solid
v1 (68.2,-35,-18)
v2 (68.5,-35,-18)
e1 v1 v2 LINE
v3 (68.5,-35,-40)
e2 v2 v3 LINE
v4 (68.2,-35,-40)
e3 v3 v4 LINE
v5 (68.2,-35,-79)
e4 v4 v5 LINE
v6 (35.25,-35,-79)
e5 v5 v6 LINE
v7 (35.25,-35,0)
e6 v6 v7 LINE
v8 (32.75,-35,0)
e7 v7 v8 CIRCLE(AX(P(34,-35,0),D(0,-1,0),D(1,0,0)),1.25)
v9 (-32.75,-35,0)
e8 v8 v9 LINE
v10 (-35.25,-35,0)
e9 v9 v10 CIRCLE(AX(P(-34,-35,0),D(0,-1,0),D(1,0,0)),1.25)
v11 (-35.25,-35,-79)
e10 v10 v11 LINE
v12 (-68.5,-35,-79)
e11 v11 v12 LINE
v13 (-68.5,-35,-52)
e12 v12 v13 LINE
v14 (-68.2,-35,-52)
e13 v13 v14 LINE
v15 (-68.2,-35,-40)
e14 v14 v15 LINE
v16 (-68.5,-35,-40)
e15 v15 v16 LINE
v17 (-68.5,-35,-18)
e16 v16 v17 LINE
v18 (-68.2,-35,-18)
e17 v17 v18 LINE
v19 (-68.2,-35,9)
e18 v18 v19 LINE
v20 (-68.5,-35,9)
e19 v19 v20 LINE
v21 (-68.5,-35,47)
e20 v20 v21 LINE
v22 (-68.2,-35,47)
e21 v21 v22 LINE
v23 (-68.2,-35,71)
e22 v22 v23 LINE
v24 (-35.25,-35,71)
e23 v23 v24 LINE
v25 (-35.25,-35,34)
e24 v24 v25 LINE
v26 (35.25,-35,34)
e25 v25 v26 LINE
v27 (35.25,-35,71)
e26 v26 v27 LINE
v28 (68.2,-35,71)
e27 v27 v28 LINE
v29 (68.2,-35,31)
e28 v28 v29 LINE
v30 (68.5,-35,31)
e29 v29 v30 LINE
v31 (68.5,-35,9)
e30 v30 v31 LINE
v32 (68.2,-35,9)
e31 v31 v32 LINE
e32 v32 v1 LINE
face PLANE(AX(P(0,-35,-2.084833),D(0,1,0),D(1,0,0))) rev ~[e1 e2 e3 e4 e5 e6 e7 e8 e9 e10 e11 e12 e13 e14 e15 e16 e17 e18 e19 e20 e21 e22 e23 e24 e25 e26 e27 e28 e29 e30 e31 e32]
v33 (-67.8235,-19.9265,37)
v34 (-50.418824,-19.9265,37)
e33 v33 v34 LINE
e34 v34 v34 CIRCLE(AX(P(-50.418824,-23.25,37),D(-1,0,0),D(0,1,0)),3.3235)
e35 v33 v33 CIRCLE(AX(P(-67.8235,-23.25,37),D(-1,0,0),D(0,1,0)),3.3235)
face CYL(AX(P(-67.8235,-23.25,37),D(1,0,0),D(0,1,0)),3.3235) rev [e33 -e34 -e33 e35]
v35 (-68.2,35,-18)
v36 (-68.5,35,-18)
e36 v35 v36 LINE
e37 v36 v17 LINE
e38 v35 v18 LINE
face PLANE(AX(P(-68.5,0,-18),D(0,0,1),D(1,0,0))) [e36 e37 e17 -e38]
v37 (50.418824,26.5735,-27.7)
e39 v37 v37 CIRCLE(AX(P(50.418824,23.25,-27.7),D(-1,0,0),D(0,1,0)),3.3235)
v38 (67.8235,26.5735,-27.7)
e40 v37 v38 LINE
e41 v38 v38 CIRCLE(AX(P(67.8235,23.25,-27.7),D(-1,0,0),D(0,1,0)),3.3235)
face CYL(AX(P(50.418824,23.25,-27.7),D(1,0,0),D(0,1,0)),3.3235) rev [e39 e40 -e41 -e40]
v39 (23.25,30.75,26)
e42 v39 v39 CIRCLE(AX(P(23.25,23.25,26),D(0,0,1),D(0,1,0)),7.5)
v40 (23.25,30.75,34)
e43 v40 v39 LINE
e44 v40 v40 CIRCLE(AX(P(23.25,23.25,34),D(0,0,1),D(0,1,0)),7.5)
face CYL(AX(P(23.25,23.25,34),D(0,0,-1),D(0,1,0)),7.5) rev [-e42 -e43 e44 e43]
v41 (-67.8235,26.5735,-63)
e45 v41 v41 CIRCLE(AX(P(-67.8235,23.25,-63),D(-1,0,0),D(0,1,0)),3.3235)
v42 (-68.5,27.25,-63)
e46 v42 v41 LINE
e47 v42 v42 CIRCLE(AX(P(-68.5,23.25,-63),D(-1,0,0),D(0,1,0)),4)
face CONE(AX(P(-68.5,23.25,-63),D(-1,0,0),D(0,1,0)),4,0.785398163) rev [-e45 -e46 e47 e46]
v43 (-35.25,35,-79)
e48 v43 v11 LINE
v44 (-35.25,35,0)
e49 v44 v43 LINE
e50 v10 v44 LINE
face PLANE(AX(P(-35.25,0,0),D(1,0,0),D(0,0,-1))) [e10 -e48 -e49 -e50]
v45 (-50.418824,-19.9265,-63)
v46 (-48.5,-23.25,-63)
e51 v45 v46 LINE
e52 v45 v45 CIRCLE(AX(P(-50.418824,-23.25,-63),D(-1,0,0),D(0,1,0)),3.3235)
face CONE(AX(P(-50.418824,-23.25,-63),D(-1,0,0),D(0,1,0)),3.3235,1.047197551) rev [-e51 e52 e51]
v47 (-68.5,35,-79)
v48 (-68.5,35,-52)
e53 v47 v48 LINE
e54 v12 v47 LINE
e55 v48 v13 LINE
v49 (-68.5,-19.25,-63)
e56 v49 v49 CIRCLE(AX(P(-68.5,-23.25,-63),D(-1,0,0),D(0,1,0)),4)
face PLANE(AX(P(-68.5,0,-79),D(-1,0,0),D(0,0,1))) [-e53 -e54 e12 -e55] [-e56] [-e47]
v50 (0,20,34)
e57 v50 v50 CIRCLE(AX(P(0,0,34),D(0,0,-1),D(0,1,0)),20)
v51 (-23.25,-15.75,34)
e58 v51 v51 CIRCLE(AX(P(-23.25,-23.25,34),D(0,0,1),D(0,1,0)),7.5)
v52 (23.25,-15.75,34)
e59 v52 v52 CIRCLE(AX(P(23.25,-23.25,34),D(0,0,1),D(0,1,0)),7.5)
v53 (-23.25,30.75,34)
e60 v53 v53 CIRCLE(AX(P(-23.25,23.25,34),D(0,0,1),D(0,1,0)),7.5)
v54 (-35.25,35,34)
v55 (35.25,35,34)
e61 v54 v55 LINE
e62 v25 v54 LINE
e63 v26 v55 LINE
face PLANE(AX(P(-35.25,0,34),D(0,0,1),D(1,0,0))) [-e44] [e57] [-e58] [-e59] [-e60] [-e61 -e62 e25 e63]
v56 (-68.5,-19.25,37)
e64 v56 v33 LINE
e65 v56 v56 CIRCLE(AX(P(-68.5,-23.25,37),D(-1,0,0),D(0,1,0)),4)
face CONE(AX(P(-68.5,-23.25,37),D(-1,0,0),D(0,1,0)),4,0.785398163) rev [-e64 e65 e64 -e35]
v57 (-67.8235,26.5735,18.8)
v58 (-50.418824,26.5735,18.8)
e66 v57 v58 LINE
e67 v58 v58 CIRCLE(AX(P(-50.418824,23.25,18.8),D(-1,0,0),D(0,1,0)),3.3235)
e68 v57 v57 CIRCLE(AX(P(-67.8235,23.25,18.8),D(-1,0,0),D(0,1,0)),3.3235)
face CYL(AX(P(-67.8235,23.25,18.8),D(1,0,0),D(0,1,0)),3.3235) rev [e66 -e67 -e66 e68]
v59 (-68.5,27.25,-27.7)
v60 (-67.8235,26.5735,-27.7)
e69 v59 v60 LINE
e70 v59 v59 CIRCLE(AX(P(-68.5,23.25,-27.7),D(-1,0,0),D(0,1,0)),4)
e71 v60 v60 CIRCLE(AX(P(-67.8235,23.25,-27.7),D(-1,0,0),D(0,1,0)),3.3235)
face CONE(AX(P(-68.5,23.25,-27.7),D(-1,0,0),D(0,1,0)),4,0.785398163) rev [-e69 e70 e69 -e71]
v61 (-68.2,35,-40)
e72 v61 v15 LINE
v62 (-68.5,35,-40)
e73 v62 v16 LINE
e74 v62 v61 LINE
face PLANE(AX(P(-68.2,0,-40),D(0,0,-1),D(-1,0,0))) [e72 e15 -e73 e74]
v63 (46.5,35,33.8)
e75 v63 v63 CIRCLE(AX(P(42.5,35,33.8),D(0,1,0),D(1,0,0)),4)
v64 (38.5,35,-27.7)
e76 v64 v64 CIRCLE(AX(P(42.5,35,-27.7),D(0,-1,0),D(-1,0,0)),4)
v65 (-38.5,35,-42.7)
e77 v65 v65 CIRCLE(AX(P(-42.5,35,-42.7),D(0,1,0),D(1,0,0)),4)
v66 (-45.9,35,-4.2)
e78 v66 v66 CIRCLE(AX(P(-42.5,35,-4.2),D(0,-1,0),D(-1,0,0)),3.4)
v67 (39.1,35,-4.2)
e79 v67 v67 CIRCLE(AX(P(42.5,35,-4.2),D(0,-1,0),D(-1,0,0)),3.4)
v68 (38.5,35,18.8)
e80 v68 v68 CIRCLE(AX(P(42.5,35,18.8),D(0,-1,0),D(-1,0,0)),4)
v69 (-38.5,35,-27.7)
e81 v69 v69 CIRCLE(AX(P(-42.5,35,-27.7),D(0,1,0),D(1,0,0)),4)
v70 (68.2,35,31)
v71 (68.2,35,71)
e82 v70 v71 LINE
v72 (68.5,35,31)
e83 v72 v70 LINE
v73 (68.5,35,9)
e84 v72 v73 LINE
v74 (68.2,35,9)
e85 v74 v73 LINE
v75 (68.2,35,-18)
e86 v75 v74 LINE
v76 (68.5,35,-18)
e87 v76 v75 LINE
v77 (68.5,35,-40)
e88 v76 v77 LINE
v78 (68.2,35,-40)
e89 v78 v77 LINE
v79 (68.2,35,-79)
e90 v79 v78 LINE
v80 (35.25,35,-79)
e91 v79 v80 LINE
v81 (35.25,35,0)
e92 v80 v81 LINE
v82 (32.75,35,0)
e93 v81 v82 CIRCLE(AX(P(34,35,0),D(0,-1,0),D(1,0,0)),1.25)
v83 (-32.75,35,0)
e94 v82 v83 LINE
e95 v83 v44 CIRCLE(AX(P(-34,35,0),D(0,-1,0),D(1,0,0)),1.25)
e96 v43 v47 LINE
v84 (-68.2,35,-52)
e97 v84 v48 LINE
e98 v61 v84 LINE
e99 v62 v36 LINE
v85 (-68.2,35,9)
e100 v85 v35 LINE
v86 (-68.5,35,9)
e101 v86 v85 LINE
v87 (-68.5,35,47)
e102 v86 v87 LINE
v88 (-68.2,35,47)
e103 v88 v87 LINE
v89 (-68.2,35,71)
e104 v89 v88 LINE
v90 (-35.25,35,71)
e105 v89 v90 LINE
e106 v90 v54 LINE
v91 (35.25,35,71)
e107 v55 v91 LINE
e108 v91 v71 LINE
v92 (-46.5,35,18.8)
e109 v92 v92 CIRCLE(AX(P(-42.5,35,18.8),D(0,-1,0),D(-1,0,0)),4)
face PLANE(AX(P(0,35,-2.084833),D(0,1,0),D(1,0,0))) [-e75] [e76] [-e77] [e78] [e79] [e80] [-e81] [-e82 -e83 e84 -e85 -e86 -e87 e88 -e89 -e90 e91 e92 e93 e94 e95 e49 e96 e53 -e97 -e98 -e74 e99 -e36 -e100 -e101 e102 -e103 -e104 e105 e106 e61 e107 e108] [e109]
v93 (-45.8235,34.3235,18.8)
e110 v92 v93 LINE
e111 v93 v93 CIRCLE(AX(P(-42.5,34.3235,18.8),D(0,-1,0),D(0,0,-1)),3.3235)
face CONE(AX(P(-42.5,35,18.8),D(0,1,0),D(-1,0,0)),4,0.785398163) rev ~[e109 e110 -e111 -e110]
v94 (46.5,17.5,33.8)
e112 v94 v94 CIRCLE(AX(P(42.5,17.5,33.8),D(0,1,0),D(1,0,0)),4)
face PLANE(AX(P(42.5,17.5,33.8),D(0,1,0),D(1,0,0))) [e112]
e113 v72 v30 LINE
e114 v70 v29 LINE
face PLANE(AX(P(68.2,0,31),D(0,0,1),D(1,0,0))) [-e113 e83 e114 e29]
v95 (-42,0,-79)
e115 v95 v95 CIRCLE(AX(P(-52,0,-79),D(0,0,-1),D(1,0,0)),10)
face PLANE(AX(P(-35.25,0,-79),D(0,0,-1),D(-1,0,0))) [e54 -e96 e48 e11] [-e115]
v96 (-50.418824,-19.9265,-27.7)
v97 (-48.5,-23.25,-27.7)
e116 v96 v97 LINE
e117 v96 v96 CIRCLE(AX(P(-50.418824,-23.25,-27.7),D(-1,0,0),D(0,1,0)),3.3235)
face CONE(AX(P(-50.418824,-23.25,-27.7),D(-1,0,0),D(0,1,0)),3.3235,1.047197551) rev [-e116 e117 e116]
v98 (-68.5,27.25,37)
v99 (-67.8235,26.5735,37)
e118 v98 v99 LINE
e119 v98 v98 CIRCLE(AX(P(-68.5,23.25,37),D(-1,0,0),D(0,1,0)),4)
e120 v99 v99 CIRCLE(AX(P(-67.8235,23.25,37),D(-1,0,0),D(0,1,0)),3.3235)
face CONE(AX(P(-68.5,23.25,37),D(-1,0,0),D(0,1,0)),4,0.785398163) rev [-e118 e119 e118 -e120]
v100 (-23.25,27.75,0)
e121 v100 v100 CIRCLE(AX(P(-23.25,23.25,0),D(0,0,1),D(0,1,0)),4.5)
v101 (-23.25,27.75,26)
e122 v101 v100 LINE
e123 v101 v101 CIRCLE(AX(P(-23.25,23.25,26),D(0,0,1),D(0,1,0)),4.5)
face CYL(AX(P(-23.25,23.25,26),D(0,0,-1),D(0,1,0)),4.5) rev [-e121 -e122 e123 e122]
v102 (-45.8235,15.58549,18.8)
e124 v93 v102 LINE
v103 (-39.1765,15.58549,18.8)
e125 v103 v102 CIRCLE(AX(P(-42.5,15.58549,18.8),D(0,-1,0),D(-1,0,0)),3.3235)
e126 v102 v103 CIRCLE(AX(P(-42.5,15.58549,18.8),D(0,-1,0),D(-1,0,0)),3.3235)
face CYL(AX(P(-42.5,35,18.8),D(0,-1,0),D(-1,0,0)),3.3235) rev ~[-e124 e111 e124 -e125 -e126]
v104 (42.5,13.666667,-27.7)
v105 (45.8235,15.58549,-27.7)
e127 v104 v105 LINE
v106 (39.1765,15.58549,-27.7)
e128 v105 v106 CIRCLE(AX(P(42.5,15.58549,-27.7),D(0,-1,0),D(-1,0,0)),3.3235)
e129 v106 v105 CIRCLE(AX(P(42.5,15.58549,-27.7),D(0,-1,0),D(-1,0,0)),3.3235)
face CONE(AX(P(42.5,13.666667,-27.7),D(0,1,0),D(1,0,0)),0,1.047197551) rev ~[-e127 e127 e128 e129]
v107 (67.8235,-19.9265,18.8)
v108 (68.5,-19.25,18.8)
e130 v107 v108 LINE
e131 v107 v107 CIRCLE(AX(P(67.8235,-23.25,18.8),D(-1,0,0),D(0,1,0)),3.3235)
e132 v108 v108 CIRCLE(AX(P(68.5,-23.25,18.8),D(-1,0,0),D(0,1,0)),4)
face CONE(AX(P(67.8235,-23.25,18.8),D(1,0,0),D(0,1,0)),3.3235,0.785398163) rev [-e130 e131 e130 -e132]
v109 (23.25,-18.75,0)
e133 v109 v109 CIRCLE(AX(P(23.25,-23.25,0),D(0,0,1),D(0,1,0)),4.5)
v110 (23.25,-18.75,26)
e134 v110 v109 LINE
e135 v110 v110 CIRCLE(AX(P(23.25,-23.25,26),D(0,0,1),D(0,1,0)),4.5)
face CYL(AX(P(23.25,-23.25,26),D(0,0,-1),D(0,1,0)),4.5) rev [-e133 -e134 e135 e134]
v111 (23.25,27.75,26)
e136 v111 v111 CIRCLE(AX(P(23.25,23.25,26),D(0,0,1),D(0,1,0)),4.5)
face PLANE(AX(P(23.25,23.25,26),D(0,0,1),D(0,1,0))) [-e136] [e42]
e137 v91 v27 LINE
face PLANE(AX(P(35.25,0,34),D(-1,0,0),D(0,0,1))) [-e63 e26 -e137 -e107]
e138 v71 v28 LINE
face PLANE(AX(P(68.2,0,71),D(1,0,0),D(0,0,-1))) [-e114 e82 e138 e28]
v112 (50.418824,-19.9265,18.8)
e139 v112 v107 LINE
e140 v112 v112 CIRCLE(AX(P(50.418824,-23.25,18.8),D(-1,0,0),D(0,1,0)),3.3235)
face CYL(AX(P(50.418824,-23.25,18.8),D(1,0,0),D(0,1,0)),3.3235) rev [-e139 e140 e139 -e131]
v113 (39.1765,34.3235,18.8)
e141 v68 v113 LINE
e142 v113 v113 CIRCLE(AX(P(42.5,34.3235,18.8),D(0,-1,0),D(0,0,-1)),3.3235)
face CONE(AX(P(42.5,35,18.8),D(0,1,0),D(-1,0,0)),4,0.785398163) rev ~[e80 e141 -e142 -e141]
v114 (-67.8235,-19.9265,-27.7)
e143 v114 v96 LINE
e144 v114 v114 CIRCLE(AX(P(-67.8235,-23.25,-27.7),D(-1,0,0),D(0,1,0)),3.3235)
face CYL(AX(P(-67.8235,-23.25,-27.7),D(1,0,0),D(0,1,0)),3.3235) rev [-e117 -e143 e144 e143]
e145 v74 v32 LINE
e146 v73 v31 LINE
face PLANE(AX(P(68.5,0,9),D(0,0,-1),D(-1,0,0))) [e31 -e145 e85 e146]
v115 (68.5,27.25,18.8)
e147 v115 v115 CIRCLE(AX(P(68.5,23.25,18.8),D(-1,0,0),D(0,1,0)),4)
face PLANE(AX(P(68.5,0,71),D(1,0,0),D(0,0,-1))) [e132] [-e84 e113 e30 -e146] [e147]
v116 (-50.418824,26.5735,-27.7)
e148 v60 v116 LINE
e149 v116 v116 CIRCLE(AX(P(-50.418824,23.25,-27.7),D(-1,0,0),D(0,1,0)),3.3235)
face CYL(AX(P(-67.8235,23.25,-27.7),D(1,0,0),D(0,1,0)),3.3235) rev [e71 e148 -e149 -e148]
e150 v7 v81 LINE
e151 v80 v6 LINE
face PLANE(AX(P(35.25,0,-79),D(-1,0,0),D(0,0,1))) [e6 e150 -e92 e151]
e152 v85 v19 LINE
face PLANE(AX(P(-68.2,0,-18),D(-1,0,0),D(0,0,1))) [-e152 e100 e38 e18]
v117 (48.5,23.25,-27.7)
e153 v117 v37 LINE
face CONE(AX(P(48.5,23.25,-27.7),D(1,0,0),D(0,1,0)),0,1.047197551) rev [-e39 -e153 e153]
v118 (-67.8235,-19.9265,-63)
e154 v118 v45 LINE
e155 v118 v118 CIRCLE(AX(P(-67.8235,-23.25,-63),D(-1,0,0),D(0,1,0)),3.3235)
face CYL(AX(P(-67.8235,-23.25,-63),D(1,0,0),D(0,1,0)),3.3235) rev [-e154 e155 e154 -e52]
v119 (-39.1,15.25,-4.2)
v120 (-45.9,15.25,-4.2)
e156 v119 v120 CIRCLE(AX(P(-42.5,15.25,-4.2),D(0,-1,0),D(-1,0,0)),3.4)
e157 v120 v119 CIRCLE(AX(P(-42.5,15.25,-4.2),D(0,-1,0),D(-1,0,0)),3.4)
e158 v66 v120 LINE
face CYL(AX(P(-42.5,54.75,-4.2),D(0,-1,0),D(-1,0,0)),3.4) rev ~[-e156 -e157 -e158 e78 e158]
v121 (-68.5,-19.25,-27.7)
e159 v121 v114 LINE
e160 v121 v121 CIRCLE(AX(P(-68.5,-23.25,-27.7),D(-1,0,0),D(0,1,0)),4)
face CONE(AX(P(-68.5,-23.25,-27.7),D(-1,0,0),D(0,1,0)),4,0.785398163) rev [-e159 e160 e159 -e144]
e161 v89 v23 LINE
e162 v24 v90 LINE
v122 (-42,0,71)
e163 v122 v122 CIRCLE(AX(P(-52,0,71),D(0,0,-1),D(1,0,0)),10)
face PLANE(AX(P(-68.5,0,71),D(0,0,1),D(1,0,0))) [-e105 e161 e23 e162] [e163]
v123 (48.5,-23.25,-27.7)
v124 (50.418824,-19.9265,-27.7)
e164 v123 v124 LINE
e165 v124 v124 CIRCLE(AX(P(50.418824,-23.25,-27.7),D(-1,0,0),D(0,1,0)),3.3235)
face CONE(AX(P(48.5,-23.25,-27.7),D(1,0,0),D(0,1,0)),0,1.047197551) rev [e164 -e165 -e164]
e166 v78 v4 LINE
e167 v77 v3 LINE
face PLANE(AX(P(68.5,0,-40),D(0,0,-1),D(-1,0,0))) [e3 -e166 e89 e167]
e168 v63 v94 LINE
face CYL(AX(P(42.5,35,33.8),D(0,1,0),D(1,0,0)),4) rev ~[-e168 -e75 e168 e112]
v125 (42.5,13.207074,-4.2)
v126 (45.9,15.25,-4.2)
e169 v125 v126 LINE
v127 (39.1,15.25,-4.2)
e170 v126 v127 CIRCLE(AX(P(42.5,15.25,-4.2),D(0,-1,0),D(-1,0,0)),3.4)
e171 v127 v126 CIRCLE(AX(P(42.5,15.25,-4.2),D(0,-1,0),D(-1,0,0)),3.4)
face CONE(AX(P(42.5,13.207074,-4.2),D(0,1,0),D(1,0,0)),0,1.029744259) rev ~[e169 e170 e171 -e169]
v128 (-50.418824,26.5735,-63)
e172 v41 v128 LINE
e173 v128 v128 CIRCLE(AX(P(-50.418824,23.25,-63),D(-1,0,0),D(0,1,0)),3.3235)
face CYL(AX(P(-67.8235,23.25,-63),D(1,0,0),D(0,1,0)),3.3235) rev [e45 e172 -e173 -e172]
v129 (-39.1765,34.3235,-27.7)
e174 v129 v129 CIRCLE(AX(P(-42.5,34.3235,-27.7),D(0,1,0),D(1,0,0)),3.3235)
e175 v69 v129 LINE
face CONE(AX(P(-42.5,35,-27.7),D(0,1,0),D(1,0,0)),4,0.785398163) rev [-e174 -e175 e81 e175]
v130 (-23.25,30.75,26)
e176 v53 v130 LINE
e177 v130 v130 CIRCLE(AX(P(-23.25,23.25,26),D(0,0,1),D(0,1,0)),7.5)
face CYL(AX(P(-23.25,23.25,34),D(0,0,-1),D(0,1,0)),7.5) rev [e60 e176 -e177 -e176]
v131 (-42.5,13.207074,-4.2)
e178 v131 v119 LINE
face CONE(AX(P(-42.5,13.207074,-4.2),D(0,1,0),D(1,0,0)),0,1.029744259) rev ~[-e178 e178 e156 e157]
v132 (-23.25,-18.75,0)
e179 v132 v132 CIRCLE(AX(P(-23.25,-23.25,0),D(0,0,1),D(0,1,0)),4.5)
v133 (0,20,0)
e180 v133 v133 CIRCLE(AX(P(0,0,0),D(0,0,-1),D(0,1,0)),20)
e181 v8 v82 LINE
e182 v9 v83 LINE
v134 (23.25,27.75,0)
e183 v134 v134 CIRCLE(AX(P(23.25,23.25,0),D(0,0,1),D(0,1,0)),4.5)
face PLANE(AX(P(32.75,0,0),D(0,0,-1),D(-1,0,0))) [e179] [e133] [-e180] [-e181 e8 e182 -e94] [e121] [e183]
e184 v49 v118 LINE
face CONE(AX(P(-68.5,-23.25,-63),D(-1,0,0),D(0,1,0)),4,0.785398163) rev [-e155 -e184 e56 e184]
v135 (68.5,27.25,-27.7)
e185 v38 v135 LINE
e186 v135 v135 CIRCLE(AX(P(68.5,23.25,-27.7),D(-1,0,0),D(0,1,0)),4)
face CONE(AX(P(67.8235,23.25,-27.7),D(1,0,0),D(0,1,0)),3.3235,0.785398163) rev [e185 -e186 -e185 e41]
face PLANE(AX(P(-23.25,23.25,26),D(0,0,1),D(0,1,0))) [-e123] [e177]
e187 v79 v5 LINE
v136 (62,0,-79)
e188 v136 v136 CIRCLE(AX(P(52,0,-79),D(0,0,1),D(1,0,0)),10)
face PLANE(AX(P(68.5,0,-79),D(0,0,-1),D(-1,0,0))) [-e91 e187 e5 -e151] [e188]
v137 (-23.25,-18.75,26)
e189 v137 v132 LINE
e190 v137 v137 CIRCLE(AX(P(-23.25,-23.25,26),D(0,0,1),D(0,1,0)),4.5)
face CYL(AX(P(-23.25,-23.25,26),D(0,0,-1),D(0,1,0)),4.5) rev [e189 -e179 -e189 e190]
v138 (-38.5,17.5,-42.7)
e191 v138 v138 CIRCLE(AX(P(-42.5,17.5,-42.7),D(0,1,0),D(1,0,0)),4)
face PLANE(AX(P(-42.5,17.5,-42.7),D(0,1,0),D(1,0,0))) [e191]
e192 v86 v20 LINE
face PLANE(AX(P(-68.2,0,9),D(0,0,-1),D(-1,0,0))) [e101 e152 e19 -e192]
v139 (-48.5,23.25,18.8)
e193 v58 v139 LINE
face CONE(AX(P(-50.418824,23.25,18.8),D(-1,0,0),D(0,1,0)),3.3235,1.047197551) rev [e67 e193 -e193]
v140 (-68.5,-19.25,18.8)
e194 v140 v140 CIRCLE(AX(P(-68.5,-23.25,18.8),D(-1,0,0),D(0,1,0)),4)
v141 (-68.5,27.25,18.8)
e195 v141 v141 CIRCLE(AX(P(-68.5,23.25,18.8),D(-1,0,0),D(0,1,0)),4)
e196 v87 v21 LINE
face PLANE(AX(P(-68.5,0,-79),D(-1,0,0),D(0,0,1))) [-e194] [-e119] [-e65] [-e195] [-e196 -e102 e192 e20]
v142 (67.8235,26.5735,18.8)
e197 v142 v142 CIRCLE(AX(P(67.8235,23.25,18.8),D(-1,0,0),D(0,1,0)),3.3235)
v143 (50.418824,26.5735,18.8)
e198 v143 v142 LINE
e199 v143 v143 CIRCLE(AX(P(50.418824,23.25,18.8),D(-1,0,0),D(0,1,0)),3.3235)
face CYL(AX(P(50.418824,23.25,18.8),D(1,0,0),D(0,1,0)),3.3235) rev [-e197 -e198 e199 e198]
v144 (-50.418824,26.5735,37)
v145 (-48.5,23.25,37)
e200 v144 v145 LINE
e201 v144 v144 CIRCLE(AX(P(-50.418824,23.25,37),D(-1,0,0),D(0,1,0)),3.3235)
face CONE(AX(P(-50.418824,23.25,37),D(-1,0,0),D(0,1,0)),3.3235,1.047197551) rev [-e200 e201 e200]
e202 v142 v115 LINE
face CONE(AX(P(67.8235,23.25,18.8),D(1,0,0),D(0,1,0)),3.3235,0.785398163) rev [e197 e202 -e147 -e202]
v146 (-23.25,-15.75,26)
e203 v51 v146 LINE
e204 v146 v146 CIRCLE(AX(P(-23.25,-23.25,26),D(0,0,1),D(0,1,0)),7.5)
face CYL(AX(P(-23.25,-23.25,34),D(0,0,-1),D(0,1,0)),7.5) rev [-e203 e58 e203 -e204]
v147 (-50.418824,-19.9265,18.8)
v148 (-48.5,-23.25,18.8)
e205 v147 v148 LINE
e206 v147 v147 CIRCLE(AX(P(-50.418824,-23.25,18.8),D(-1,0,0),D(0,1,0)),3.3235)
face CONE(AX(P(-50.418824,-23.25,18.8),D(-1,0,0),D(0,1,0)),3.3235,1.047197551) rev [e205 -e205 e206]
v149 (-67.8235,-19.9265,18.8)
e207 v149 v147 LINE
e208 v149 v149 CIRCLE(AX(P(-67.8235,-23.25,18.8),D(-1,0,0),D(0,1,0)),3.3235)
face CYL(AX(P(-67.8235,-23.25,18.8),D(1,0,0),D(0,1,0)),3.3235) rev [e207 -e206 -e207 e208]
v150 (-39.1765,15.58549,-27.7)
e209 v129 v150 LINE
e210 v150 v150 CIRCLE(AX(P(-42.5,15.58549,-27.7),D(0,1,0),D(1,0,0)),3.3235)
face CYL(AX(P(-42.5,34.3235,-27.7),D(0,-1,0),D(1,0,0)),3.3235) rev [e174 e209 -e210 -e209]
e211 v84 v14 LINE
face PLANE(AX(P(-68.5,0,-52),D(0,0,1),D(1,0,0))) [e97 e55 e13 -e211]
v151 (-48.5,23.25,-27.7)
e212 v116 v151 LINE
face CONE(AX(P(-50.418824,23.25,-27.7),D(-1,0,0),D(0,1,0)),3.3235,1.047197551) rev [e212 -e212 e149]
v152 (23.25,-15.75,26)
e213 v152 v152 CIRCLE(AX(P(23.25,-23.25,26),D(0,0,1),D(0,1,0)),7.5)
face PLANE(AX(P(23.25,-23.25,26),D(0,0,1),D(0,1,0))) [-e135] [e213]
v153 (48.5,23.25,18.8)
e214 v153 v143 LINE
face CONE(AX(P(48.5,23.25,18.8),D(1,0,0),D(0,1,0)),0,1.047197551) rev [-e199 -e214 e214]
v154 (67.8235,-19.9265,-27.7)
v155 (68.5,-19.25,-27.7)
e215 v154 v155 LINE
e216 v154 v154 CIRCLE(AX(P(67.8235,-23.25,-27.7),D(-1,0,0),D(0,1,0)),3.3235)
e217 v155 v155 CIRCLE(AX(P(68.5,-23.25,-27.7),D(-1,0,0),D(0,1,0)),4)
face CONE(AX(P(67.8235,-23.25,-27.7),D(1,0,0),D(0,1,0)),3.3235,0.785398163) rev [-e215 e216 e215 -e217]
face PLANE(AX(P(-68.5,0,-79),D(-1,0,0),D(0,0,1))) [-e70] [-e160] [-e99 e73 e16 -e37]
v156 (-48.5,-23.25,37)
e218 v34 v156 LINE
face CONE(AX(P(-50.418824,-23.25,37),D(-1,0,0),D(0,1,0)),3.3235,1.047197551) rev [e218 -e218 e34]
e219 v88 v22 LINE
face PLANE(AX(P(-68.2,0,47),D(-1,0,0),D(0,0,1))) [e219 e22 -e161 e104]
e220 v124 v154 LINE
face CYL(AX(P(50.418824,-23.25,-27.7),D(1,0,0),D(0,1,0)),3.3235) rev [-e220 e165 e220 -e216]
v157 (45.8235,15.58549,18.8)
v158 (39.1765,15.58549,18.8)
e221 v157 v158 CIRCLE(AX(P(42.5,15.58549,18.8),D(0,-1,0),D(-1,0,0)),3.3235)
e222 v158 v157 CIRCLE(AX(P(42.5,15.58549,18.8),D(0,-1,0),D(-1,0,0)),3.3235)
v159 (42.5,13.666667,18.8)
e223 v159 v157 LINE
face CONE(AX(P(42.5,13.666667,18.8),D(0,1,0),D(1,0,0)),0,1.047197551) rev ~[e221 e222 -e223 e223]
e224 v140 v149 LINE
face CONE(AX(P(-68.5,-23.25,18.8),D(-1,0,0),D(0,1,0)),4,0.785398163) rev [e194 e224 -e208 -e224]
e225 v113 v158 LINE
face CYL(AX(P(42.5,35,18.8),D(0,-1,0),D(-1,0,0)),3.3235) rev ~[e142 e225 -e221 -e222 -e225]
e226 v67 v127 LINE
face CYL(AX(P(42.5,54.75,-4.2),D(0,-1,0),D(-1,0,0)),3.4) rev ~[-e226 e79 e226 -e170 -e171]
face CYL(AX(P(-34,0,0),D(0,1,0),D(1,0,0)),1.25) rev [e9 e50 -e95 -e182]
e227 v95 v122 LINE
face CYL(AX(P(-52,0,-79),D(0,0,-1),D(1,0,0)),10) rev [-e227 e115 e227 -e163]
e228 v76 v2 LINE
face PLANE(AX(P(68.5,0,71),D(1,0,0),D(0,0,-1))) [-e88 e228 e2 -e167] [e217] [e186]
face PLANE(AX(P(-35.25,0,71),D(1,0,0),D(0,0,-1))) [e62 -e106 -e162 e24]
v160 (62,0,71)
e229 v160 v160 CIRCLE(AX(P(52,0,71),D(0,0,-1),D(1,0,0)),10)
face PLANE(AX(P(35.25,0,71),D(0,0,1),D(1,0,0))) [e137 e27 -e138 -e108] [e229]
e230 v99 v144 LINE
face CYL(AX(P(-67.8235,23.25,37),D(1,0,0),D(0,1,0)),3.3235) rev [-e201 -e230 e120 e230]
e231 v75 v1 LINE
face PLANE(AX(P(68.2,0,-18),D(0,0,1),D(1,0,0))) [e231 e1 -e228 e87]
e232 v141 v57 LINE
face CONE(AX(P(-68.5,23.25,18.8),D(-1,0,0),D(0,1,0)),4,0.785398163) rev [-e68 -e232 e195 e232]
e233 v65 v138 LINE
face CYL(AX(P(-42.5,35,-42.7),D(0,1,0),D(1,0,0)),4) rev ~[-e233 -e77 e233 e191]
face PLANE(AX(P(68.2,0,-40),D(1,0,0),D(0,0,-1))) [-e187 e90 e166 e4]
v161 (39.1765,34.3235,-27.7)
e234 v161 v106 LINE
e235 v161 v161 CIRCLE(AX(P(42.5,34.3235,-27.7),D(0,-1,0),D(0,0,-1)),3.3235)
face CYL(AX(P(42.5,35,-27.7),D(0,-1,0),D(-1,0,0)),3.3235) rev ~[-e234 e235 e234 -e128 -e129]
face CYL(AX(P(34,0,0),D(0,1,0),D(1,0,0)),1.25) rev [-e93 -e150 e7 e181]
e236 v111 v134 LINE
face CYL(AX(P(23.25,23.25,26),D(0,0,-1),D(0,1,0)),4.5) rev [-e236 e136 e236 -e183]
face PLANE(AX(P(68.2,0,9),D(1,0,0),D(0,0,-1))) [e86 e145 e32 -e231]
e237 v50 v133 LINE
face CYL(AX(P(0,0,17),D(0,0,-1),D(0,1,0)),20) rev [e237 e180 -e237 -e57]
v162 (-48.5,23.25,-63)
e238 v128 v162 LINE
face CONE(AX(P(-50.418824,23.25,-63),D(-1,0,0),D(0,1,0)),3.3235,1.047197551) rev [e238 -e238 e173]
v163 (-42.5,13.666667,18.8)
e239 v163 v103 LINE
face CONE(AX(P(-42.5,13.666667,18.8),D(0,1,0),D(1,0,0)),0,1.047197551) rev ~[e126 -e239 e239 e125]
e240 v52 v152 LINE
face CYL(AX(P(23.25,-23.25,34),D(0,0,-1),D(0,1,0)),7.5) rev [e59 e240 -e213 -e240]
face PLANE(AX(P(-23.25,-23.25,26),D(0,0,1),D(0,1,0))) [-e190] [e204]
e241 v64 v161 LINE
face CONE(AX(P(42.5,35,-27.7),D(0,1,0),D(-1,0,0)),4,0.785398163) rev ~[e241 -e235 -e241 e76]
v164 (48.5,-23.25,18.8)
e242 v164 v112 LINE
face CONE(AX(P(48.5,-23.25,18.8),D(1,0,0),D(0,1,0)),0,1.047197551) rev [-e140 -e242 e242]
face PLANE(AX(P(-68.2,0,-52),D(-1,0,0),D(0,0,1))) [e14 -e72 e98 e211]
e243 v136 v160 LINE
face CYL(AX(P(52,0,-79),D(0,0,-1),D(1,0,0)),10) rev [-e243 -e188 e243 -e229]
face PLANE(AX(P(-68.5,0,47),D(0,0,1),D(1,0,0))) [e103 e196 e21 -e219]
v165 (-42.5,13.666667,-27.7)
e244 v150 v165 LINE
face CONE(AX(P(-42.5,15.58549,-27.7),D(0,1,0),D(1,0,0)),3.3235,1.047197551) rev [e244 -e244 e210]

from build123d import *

# Parameters (mm, degrees)
BOSS_EXTRUDE1_DEPTH      = 35
BOSS_EXTRUDE1_DEPTH_BACK = 35
SKETCH2_W                = 36
SKETCH2_H                = 20
HOLE1_D                  = 6.647
HOLE1_DEPTH              = 19.414509714
HOLE1_CSINK_D            = 8
HOLE1_CSINK_ANGLE        = 90
HOLE1_TIP                = 1.91882362
HOLE2_D                  = 6.647
HOLE2_DEPTH              = 19.414509714
HOLE2_CSINK_D            = 8
HOLE2_CSINK_ANGLE        = 90
HOLE2_TIP                = 1.91882362
HOLE3_D                  = 6.647
HOLE3_DEPTH              = 19.414509714
HOLE3_CSINK_D            = 8
HOLE3_CSINK_ANGLE        = 90
HOLE3_TIP                = 1.91882362
SKETCH26_R               = 10
CUT_EXTRUDE1_DEPTH       = 150
SKETCH27_R               = 10
CUT_EXTRUDE2_DEPTH       = 150
CUT_EXTRUDE3_DEPTH       = 70
CUT_EXTRUDE3_DEPTH_BACK  = 70
SKETCH28_W               = 177
SKETCH28_H               = 190
SKETCH29_R               = 4
CUT_EXTRUDE4_DEPTH       = 17.5
M8_TAPPED_HOLE1_D        = 6.8
M8_TAPPED_HOLE1_DEPTH    = 19.75
M8_TAPPED_HOLE1_TIP      = 2.042926105


with BuildPart() as part:
    # Sketch1 → Boss-Extrude1 (new, two sides: drawn at the far end of the back side and taken through both)
    with BuildSketch(Plane(origin=(0, 0, 0), x_dir=(1, 0, 0), z_dir=(0, 1, 0)).offset(-BOSS_EXTRUDE1_DEPTH_BACK)):
        with BuildLine():
            Line((-68.5, -71), (-35.25, -71))
            Line((-35.25, -71), (-35.25, -34))
            Line((-35.25, -34), (35.25, -34))
            Line((35.25, -34), (35.25, -71))
            Line((35.25, -71), (68.5, -71))
            Line((68.5, -71), (68.5, 79))
            Line((68.5, 79), (35.25, 79))
            Line((35.25, 79), (35.25, 0))
            ThreePointArc((35.25, 0), (34, -1.25), (32.75, 0))
            Line((32.75, 0), (-32.75, 0))
            ThreePointArc((-32.75, 0), (-34, -1.25), (-35.25, 0))
            Line((-35.25, 0), (-35.25, 79))
            Line((-35.25, 79), (-68.5, 79))
            Line((-68.5, 79), (-68.5, -71))
        make_face()
    extrude(amount=BOSS_EXTRUDE1_DEPTH + BOSS_EXTRUDE1_DEPTH_BACK)

    # Sketch2 → Cut-Revolve1 (revolve, cut)
    with BuildSketch(Plane(origin=(0, 0, 0), x_dir=(0, 0, -1), z_dir=(1, 0, 0))):
        with Locations((-17, 10)):
            Rectangle(SKETCH2_W, SKETCH2_H)
    revolve(axis=Axis((0, 0, -1), (0, 0, 1)), mode=Mode.SUBTRACT)

    # Sketch3 → Cut-Revolve2 (revolve, cut)
    with BuildSketch(Plane(origin=(-23.25, 0, 0), x_dir=(0, 0, -1), z_dir=(1, 0, 0))):
        Polygon((-34, 23.25), (-34, 30.75), (-26, 30.75), (-26, 27.75), (0, 27.75), (0, 23.25), align=None)
    revolve(axis=Axis((-23.25, 23.25, 0), (0, 0, 1)), mode=Mode.SUBTRACT)

    # Sketch4 → Cut-Revolve3 (revolve, cut)
    with BuildSketch(Plane(origin=(-23.25, 0, 0), x_dir=(0, 0, -1), z_dir=(1, 0, 0))):
        Polygon((-34, -23.25), (-34, -15.75), (-26, -15.75), (-26, -18.75), (0, -18.75), (0, -23.25), align=None)
    revolve(axis=Axis((-23.25, -23.25, 0), (0, 0, 1)), mode=Mode.SUBTRACT)

    # Sketch5 → Cut-Revolve4 (revolve, cut)
    with BuildSketch(Plane(origin=(23.25, 0, 0), x_dir=(0, 0, -1), z_dir=(1, 0, 0))):
        Polygon((-34, 23.25), (-34, 30.75), (-26, 30.75), (-26, 27.75), (0, 27.75), (0, 23.25), align=None)
    revolve(axis=Axis((23.25, 23.25, 0), (0, 0, 1)), mode=Mode.SUBTRACT)

    # Sketch6 → Cut-Revolve5 (revolve, cut)
    with BuildSketch(Plane(origin=(23.25, 0, 0), x_dir=(0, 0, -1), z_dir=(1, 0, 0))):
        Polygon((-34, -23.25), (-34, -15.75), (-26, -15.75), (-26, -18.75), (0, -18.75), (0, -23.25), align=None)
    revolve(axis=Axis((23.25, -23.25, 0), (0, 0, 1)), mode=Mode.SUBTRACT)

    # Hole1
    with Locations(Plane(origin=(0, 35, 0), x_dir=(1, 0, 0), z_dir=(0, 1, 0))):
        with Locations((42.5, -18.8)):
            CounterSinkHole(HOLE1_D / 2, HOLE1_CSINK_D / 2, depth=HOLE1_DEPTH, counter_sink_angle=HOLE1_CSINK_ANGLE)
            with Locations((0, 0, -(HOLE1_DEPTH + HOLE1_TIP / 2))):  # 120° drill point
                Cone(0, HOLE1_D / 2, HOLE1_TIP, mode=Mode.SUBTRACT)

    # Hole2
    with Locations(Plane(origin=(0, 35, 0), x_dir=(1, 0, 0), z_dir=(0, 1, 0))):
        with Locations((-42.5, -18.8)):
            CounterSinkHole(HOLE2_D / 2, HOLE2_CSINK_D / 2, depth=HOLE2_DEPTH, counter_sink_angle=HOLE2_CSINK_ANGLE)
            with Locations((0, 0, -(HOLE2_DEPTH + HOLE2_TIP / 2))):  # 120° drill point
                Cone(0, HOLE2_D / 2, HOLE2_TIP, mode=Mode.SUBTRACT)

    # Sketch11 → Cut-Revolve6 (revolve, cut)
    with BuildSketch(Plane.XY.offset(18.8)):
        Polygon((48.5, 23.25), (50.41882362, 26.5735), (67.8235, 26.5735), (68.5, 27.25), (68.5, 23.25), align=None)
    revolve(axis=Axis((68.5, 23.25, 18.8), (-1, 0, 0)), mode=Mode.SUBTRACT)

    # Sketch12 → Cut-Revolve7 (revolve, cut)
    with BuildSketch(Plane.XY.offset(18.8)):
        Polygon((48.5, -23.25), (50.41882362, -19.9265), (67.8235, -19.9265), (68.5, -19.25), (68.5, -23.25), align=None)
    revolve(axis=Axis((68.5, -23.25, 18.8), (-1, 0, 0)), mode=Mode.SUBTRACT)

    # Sketch13 → Cut-Revolve8 (revolve, cut)
    with BuildSketch(Plane.XY.offset(18.8)):
        Polygon((-68.5, 23.25), (-68.5, 27.25), (-67.8235, 26.5735), (-50.41882362, 26.5735), (-48.5, 23.25), align=None)
    revolve(axis=Axis((-48.5, 23.25, 18.8), (-1, 0, 0)), mode=Mode.SUBTRACT)

    # Sketch14 → Cut-Revolve9 (revolve, cut)
    with BuildSketch(Plane.XY.offset(18.8)):
        Polygon((-68.5, -23.25), (-68.5, -19.25), (-67.8235, -19.9265), (-50.41882362, -19.9265), (-48.5, -23.25), align=None)
    revolve(axis=Axis((-48.5, -23.25, 18.8), (-1, 0, 0)), mode=Mode.SUBTRACT)

    # Hole3
    with Locations(Plane(origin=(0, 35, 0), x_dir=(1, 0, 0), z_dir=(0, 1, 0))):
        with Locations((42.5, 27.7)):
            CounterSinkHole(HOLE3_D / 2, HOLE3_CSINK_D / 2, depth=HOLE3_DEPTH, counter_sink_angle=HOLE3_CSINK_ANGLE)
            with Locations((0, 0, -(HOLE3_DEPTH + HOLE3_TIP / 2))):  # 120° drill point
                Cone(0, HOLE3_D / 2, HOLE3_TIP, mode=Mode.SUBTRACT)

    # Sketch17 → Cut-Revolve10 (revolve, cut)
    with BuildSketch(Plane.XY.offset(-27.7)):
        Polygon((-42.5, 35), (-38.5, 35), (-39.1765, 34.3235), (-39.1765, 15.585490286), (-42.5, 13.666666667), align=None)
    revolve(axis=Axis((-42.5, 13.666666667, -27.7), (0, 1, 0)), mode=Mode.SUBTRACT)

    # Sketch18 → Cut-Revolve11 (revolve, cut)
    with BuildSketch(Plane.XY.offset(-27.7)):
        Polygon((48.5, 23.25), (50.41882362, 26.5735), (67.8235, 26.5735), (68.5, 27.25), (68.5, 23.25), align=None)
    revolve(axis=Axis((68.5, 23.25, -27.7), (-1, 0, 0)), mode=Mode.SUBTRACT)

    # Sketch19 → Cut-Revolve12 (revolve, cut)
    with BuildSketch(Plane.XY.offset(-27.7)):
        Polygon((48.5, -23.25), (50.41882362, -19.9265), (67.8235, -19.9265), (68.5, -19.25), (68.5, -23.25), align=None)
    revolve(axis=Axis((68.5, -23.25, -27.7), (-1, 0, 0)), mode=Mode.SUBTRACT)

    # Sketch20 → Cut-Revolve13 (revolve, cut)
    with BuildSketch(Plane.XY.offset(-27.7)):
        Polygon((-68.5, 23.25), (-68.5, 27.25), (-67.8235, 26.5735), (-50.41882362, 26.5735), (-48.5, 23.25), align=None)
    revolve(axis=Axis((-48.5, 23.25, -27.7), (-1, 0, 0)), mode=Mode.SUBTRACT)

    # Sketch21 → Cut-Revolve14 (revolve, cut)
    with BuildSketch(Plane.XY.offset(-27.7)):
        Polygon((-68.5, -23.25), (-68.5, -19.25), (-67.8235, -19.9265), (-50.41882362, -19.9265), (-48.5, -23.25), align=None)
    revolve(axis=Axis((-48.5, -23.25, -27.7), (-1, 0, 0)), mode=Mode.SUBTRACT)

    # Sketch22 → Cut-Revolve15 (revolve, cut)
    with BuildSketch(Plane.XY.offset(-63)):
        Polygon((-68.5, 23.25), (-68.5, 27.25), (-67.8235, 26.5735), (-50.41882362, 26.5735), (-48.5, 23.25), align=None)
    revolve(axis=Axis((-48.5, 23.25, -63), (-1, 0, 0)), mode=Mode.SUBTRACT)

    # Sketch23 → Cut-Revolve16 (revolve, cut)
    with BuildSketch(Plane.XY.offset(-63)):
        Polygon((-68.5, -23.25), (-68.5, -19.25), (-67.8235, -19.9265), (-50.41882362, -19.9265), (-48.5, -23.25), align=None)
    revolve(axis=Axis((-48.5, -23.25, -63), (-1, 0, 0)), mode=Mode.SUBTRACT)

    # Sketch24 → Cut-Revolve17 (revolve, cut)
    with BuildSketch(Plane.XY.offset(37)):
        Polygon((-68.5, 23.25), (-68.5, 27.25), (-67.8235, 26.5735), (-50.41882362, 26.5735), (-48.5, 23.25), align=None)
    revolve(axis=Axis((-48.5, 23.25, 37), (-1, 0, 0)), mode=Mode.SUBTRACT)

    # Sketch25 → Cut-Revolve18 (revolve, cut)
    with BuildSketch(Plane.XY.offset(37)):
        Polygon((-68.5, -23.25), (-68.5, -19.25), (-67.8235, -19.9265), (-50.41882362, -19.9265), (-48.5, -23.25), align=None)
    revolve(axis=Axis((-48.5, -23.25, 37), (-1, 0, 0)), mode=Mode.SUBTRACT)

    # Sketch26 → Cut-Extrude1 (cut)
    with BuildSketch(Plane.XY.offset(-79)):
        with Locations((52, 0)):
            Circle(SKETCH26_R)
    extrude(amount=CUT_EXTRUDE1_DEPTH, mode=Mode.SUBTRACT)

    # Sketch27 → Cut-Extrude2 (cut)
    with BuildSketch(Plane.XY.offset(-79)):
        with Locations((-52, 0)):
            Circle(SKETCH27_R)
    extrude(amount=CUT_EXTRUDE2_DEPTH, mode=Mode.SUBTRACT)

    # Sketch28 → Cut-Extrude3 (cut, two sides: drawn at the far end of the back side and taken through both)
    with BuildSketch(Plane(origin=(0, 0, 0), x_dir=(1, 0, 0), z_dir=(0, 1, 0)).offset(-CUT_EXTRUDE3_DEPTH_BACK)):
        with Locations((0, 4)):
            Rectangle(SKETCH28_W, SKETCH28_H)
        Polygon((-68.5, 18), (-68.2, 18), (-68.2, -9), (-68.5, -9), (-68.5, -47), (-68.2, -47), (-68.2, -71), (68.2, -71), (68.2, -31), (68.5, -31), (68.5, -9), (68.2, -9), (68.2, 18), (68.5, 18), (68.5, 40), (68.2, 40), (68.2, 79), (-68.5, 79), (-68.5, 52), (-68.2, 52), (-68.2, 40), (-68.5, 40), align=None, mode=Mode.SUBTRACT)
    extrude(amount=CUT_EXTRUDE3_DEPTH + CUT_EXTRUDE3_DEPTH_BACK, mode=Mode.SUBTRACT)

    # Sketch29 → Cut-Extrude4 (cut)
    with BuildSketch(Plane(origin=(0, 35, 0), x_dir=(1, 0, 0), z_dir=(0, 1, 0))):
        with Locations((-42.5, 42.7)):
            Circle(SKETCH29_R)
        with Locations((42.5, -33.8)):
            Circle(SKETCH29_R)
    extrude(amount=-CUT_EXTRUDE4_DEPTH, mode=Mode.SUBTRACT)

    # M8 Tapped Hole1
    with Locations(Plane(origin=(0, 35, 0), x_dir=(1, 0, 0), z_dir=(0, 1, 0))):
        with Locations((-42.5, 4.2), (42.5, 4.2)):
            Hole(M8_TAPPED_HOLE1_D / 2, depth=M8_TAPPED_HOLE1_DEPTH)
            with Locations((0, 0, -(M8_TAPPED_HOLE1_DEPTH + M8_TAPPED_HOLE1_TIP / 2))):  # 118° drill point
                Cone(0, M8_TAPPED_HOLE1_D / 2, M8_TAPPED_HOLE1_TIP, mode=Mode.SUBTRACT)


solid = part.part
